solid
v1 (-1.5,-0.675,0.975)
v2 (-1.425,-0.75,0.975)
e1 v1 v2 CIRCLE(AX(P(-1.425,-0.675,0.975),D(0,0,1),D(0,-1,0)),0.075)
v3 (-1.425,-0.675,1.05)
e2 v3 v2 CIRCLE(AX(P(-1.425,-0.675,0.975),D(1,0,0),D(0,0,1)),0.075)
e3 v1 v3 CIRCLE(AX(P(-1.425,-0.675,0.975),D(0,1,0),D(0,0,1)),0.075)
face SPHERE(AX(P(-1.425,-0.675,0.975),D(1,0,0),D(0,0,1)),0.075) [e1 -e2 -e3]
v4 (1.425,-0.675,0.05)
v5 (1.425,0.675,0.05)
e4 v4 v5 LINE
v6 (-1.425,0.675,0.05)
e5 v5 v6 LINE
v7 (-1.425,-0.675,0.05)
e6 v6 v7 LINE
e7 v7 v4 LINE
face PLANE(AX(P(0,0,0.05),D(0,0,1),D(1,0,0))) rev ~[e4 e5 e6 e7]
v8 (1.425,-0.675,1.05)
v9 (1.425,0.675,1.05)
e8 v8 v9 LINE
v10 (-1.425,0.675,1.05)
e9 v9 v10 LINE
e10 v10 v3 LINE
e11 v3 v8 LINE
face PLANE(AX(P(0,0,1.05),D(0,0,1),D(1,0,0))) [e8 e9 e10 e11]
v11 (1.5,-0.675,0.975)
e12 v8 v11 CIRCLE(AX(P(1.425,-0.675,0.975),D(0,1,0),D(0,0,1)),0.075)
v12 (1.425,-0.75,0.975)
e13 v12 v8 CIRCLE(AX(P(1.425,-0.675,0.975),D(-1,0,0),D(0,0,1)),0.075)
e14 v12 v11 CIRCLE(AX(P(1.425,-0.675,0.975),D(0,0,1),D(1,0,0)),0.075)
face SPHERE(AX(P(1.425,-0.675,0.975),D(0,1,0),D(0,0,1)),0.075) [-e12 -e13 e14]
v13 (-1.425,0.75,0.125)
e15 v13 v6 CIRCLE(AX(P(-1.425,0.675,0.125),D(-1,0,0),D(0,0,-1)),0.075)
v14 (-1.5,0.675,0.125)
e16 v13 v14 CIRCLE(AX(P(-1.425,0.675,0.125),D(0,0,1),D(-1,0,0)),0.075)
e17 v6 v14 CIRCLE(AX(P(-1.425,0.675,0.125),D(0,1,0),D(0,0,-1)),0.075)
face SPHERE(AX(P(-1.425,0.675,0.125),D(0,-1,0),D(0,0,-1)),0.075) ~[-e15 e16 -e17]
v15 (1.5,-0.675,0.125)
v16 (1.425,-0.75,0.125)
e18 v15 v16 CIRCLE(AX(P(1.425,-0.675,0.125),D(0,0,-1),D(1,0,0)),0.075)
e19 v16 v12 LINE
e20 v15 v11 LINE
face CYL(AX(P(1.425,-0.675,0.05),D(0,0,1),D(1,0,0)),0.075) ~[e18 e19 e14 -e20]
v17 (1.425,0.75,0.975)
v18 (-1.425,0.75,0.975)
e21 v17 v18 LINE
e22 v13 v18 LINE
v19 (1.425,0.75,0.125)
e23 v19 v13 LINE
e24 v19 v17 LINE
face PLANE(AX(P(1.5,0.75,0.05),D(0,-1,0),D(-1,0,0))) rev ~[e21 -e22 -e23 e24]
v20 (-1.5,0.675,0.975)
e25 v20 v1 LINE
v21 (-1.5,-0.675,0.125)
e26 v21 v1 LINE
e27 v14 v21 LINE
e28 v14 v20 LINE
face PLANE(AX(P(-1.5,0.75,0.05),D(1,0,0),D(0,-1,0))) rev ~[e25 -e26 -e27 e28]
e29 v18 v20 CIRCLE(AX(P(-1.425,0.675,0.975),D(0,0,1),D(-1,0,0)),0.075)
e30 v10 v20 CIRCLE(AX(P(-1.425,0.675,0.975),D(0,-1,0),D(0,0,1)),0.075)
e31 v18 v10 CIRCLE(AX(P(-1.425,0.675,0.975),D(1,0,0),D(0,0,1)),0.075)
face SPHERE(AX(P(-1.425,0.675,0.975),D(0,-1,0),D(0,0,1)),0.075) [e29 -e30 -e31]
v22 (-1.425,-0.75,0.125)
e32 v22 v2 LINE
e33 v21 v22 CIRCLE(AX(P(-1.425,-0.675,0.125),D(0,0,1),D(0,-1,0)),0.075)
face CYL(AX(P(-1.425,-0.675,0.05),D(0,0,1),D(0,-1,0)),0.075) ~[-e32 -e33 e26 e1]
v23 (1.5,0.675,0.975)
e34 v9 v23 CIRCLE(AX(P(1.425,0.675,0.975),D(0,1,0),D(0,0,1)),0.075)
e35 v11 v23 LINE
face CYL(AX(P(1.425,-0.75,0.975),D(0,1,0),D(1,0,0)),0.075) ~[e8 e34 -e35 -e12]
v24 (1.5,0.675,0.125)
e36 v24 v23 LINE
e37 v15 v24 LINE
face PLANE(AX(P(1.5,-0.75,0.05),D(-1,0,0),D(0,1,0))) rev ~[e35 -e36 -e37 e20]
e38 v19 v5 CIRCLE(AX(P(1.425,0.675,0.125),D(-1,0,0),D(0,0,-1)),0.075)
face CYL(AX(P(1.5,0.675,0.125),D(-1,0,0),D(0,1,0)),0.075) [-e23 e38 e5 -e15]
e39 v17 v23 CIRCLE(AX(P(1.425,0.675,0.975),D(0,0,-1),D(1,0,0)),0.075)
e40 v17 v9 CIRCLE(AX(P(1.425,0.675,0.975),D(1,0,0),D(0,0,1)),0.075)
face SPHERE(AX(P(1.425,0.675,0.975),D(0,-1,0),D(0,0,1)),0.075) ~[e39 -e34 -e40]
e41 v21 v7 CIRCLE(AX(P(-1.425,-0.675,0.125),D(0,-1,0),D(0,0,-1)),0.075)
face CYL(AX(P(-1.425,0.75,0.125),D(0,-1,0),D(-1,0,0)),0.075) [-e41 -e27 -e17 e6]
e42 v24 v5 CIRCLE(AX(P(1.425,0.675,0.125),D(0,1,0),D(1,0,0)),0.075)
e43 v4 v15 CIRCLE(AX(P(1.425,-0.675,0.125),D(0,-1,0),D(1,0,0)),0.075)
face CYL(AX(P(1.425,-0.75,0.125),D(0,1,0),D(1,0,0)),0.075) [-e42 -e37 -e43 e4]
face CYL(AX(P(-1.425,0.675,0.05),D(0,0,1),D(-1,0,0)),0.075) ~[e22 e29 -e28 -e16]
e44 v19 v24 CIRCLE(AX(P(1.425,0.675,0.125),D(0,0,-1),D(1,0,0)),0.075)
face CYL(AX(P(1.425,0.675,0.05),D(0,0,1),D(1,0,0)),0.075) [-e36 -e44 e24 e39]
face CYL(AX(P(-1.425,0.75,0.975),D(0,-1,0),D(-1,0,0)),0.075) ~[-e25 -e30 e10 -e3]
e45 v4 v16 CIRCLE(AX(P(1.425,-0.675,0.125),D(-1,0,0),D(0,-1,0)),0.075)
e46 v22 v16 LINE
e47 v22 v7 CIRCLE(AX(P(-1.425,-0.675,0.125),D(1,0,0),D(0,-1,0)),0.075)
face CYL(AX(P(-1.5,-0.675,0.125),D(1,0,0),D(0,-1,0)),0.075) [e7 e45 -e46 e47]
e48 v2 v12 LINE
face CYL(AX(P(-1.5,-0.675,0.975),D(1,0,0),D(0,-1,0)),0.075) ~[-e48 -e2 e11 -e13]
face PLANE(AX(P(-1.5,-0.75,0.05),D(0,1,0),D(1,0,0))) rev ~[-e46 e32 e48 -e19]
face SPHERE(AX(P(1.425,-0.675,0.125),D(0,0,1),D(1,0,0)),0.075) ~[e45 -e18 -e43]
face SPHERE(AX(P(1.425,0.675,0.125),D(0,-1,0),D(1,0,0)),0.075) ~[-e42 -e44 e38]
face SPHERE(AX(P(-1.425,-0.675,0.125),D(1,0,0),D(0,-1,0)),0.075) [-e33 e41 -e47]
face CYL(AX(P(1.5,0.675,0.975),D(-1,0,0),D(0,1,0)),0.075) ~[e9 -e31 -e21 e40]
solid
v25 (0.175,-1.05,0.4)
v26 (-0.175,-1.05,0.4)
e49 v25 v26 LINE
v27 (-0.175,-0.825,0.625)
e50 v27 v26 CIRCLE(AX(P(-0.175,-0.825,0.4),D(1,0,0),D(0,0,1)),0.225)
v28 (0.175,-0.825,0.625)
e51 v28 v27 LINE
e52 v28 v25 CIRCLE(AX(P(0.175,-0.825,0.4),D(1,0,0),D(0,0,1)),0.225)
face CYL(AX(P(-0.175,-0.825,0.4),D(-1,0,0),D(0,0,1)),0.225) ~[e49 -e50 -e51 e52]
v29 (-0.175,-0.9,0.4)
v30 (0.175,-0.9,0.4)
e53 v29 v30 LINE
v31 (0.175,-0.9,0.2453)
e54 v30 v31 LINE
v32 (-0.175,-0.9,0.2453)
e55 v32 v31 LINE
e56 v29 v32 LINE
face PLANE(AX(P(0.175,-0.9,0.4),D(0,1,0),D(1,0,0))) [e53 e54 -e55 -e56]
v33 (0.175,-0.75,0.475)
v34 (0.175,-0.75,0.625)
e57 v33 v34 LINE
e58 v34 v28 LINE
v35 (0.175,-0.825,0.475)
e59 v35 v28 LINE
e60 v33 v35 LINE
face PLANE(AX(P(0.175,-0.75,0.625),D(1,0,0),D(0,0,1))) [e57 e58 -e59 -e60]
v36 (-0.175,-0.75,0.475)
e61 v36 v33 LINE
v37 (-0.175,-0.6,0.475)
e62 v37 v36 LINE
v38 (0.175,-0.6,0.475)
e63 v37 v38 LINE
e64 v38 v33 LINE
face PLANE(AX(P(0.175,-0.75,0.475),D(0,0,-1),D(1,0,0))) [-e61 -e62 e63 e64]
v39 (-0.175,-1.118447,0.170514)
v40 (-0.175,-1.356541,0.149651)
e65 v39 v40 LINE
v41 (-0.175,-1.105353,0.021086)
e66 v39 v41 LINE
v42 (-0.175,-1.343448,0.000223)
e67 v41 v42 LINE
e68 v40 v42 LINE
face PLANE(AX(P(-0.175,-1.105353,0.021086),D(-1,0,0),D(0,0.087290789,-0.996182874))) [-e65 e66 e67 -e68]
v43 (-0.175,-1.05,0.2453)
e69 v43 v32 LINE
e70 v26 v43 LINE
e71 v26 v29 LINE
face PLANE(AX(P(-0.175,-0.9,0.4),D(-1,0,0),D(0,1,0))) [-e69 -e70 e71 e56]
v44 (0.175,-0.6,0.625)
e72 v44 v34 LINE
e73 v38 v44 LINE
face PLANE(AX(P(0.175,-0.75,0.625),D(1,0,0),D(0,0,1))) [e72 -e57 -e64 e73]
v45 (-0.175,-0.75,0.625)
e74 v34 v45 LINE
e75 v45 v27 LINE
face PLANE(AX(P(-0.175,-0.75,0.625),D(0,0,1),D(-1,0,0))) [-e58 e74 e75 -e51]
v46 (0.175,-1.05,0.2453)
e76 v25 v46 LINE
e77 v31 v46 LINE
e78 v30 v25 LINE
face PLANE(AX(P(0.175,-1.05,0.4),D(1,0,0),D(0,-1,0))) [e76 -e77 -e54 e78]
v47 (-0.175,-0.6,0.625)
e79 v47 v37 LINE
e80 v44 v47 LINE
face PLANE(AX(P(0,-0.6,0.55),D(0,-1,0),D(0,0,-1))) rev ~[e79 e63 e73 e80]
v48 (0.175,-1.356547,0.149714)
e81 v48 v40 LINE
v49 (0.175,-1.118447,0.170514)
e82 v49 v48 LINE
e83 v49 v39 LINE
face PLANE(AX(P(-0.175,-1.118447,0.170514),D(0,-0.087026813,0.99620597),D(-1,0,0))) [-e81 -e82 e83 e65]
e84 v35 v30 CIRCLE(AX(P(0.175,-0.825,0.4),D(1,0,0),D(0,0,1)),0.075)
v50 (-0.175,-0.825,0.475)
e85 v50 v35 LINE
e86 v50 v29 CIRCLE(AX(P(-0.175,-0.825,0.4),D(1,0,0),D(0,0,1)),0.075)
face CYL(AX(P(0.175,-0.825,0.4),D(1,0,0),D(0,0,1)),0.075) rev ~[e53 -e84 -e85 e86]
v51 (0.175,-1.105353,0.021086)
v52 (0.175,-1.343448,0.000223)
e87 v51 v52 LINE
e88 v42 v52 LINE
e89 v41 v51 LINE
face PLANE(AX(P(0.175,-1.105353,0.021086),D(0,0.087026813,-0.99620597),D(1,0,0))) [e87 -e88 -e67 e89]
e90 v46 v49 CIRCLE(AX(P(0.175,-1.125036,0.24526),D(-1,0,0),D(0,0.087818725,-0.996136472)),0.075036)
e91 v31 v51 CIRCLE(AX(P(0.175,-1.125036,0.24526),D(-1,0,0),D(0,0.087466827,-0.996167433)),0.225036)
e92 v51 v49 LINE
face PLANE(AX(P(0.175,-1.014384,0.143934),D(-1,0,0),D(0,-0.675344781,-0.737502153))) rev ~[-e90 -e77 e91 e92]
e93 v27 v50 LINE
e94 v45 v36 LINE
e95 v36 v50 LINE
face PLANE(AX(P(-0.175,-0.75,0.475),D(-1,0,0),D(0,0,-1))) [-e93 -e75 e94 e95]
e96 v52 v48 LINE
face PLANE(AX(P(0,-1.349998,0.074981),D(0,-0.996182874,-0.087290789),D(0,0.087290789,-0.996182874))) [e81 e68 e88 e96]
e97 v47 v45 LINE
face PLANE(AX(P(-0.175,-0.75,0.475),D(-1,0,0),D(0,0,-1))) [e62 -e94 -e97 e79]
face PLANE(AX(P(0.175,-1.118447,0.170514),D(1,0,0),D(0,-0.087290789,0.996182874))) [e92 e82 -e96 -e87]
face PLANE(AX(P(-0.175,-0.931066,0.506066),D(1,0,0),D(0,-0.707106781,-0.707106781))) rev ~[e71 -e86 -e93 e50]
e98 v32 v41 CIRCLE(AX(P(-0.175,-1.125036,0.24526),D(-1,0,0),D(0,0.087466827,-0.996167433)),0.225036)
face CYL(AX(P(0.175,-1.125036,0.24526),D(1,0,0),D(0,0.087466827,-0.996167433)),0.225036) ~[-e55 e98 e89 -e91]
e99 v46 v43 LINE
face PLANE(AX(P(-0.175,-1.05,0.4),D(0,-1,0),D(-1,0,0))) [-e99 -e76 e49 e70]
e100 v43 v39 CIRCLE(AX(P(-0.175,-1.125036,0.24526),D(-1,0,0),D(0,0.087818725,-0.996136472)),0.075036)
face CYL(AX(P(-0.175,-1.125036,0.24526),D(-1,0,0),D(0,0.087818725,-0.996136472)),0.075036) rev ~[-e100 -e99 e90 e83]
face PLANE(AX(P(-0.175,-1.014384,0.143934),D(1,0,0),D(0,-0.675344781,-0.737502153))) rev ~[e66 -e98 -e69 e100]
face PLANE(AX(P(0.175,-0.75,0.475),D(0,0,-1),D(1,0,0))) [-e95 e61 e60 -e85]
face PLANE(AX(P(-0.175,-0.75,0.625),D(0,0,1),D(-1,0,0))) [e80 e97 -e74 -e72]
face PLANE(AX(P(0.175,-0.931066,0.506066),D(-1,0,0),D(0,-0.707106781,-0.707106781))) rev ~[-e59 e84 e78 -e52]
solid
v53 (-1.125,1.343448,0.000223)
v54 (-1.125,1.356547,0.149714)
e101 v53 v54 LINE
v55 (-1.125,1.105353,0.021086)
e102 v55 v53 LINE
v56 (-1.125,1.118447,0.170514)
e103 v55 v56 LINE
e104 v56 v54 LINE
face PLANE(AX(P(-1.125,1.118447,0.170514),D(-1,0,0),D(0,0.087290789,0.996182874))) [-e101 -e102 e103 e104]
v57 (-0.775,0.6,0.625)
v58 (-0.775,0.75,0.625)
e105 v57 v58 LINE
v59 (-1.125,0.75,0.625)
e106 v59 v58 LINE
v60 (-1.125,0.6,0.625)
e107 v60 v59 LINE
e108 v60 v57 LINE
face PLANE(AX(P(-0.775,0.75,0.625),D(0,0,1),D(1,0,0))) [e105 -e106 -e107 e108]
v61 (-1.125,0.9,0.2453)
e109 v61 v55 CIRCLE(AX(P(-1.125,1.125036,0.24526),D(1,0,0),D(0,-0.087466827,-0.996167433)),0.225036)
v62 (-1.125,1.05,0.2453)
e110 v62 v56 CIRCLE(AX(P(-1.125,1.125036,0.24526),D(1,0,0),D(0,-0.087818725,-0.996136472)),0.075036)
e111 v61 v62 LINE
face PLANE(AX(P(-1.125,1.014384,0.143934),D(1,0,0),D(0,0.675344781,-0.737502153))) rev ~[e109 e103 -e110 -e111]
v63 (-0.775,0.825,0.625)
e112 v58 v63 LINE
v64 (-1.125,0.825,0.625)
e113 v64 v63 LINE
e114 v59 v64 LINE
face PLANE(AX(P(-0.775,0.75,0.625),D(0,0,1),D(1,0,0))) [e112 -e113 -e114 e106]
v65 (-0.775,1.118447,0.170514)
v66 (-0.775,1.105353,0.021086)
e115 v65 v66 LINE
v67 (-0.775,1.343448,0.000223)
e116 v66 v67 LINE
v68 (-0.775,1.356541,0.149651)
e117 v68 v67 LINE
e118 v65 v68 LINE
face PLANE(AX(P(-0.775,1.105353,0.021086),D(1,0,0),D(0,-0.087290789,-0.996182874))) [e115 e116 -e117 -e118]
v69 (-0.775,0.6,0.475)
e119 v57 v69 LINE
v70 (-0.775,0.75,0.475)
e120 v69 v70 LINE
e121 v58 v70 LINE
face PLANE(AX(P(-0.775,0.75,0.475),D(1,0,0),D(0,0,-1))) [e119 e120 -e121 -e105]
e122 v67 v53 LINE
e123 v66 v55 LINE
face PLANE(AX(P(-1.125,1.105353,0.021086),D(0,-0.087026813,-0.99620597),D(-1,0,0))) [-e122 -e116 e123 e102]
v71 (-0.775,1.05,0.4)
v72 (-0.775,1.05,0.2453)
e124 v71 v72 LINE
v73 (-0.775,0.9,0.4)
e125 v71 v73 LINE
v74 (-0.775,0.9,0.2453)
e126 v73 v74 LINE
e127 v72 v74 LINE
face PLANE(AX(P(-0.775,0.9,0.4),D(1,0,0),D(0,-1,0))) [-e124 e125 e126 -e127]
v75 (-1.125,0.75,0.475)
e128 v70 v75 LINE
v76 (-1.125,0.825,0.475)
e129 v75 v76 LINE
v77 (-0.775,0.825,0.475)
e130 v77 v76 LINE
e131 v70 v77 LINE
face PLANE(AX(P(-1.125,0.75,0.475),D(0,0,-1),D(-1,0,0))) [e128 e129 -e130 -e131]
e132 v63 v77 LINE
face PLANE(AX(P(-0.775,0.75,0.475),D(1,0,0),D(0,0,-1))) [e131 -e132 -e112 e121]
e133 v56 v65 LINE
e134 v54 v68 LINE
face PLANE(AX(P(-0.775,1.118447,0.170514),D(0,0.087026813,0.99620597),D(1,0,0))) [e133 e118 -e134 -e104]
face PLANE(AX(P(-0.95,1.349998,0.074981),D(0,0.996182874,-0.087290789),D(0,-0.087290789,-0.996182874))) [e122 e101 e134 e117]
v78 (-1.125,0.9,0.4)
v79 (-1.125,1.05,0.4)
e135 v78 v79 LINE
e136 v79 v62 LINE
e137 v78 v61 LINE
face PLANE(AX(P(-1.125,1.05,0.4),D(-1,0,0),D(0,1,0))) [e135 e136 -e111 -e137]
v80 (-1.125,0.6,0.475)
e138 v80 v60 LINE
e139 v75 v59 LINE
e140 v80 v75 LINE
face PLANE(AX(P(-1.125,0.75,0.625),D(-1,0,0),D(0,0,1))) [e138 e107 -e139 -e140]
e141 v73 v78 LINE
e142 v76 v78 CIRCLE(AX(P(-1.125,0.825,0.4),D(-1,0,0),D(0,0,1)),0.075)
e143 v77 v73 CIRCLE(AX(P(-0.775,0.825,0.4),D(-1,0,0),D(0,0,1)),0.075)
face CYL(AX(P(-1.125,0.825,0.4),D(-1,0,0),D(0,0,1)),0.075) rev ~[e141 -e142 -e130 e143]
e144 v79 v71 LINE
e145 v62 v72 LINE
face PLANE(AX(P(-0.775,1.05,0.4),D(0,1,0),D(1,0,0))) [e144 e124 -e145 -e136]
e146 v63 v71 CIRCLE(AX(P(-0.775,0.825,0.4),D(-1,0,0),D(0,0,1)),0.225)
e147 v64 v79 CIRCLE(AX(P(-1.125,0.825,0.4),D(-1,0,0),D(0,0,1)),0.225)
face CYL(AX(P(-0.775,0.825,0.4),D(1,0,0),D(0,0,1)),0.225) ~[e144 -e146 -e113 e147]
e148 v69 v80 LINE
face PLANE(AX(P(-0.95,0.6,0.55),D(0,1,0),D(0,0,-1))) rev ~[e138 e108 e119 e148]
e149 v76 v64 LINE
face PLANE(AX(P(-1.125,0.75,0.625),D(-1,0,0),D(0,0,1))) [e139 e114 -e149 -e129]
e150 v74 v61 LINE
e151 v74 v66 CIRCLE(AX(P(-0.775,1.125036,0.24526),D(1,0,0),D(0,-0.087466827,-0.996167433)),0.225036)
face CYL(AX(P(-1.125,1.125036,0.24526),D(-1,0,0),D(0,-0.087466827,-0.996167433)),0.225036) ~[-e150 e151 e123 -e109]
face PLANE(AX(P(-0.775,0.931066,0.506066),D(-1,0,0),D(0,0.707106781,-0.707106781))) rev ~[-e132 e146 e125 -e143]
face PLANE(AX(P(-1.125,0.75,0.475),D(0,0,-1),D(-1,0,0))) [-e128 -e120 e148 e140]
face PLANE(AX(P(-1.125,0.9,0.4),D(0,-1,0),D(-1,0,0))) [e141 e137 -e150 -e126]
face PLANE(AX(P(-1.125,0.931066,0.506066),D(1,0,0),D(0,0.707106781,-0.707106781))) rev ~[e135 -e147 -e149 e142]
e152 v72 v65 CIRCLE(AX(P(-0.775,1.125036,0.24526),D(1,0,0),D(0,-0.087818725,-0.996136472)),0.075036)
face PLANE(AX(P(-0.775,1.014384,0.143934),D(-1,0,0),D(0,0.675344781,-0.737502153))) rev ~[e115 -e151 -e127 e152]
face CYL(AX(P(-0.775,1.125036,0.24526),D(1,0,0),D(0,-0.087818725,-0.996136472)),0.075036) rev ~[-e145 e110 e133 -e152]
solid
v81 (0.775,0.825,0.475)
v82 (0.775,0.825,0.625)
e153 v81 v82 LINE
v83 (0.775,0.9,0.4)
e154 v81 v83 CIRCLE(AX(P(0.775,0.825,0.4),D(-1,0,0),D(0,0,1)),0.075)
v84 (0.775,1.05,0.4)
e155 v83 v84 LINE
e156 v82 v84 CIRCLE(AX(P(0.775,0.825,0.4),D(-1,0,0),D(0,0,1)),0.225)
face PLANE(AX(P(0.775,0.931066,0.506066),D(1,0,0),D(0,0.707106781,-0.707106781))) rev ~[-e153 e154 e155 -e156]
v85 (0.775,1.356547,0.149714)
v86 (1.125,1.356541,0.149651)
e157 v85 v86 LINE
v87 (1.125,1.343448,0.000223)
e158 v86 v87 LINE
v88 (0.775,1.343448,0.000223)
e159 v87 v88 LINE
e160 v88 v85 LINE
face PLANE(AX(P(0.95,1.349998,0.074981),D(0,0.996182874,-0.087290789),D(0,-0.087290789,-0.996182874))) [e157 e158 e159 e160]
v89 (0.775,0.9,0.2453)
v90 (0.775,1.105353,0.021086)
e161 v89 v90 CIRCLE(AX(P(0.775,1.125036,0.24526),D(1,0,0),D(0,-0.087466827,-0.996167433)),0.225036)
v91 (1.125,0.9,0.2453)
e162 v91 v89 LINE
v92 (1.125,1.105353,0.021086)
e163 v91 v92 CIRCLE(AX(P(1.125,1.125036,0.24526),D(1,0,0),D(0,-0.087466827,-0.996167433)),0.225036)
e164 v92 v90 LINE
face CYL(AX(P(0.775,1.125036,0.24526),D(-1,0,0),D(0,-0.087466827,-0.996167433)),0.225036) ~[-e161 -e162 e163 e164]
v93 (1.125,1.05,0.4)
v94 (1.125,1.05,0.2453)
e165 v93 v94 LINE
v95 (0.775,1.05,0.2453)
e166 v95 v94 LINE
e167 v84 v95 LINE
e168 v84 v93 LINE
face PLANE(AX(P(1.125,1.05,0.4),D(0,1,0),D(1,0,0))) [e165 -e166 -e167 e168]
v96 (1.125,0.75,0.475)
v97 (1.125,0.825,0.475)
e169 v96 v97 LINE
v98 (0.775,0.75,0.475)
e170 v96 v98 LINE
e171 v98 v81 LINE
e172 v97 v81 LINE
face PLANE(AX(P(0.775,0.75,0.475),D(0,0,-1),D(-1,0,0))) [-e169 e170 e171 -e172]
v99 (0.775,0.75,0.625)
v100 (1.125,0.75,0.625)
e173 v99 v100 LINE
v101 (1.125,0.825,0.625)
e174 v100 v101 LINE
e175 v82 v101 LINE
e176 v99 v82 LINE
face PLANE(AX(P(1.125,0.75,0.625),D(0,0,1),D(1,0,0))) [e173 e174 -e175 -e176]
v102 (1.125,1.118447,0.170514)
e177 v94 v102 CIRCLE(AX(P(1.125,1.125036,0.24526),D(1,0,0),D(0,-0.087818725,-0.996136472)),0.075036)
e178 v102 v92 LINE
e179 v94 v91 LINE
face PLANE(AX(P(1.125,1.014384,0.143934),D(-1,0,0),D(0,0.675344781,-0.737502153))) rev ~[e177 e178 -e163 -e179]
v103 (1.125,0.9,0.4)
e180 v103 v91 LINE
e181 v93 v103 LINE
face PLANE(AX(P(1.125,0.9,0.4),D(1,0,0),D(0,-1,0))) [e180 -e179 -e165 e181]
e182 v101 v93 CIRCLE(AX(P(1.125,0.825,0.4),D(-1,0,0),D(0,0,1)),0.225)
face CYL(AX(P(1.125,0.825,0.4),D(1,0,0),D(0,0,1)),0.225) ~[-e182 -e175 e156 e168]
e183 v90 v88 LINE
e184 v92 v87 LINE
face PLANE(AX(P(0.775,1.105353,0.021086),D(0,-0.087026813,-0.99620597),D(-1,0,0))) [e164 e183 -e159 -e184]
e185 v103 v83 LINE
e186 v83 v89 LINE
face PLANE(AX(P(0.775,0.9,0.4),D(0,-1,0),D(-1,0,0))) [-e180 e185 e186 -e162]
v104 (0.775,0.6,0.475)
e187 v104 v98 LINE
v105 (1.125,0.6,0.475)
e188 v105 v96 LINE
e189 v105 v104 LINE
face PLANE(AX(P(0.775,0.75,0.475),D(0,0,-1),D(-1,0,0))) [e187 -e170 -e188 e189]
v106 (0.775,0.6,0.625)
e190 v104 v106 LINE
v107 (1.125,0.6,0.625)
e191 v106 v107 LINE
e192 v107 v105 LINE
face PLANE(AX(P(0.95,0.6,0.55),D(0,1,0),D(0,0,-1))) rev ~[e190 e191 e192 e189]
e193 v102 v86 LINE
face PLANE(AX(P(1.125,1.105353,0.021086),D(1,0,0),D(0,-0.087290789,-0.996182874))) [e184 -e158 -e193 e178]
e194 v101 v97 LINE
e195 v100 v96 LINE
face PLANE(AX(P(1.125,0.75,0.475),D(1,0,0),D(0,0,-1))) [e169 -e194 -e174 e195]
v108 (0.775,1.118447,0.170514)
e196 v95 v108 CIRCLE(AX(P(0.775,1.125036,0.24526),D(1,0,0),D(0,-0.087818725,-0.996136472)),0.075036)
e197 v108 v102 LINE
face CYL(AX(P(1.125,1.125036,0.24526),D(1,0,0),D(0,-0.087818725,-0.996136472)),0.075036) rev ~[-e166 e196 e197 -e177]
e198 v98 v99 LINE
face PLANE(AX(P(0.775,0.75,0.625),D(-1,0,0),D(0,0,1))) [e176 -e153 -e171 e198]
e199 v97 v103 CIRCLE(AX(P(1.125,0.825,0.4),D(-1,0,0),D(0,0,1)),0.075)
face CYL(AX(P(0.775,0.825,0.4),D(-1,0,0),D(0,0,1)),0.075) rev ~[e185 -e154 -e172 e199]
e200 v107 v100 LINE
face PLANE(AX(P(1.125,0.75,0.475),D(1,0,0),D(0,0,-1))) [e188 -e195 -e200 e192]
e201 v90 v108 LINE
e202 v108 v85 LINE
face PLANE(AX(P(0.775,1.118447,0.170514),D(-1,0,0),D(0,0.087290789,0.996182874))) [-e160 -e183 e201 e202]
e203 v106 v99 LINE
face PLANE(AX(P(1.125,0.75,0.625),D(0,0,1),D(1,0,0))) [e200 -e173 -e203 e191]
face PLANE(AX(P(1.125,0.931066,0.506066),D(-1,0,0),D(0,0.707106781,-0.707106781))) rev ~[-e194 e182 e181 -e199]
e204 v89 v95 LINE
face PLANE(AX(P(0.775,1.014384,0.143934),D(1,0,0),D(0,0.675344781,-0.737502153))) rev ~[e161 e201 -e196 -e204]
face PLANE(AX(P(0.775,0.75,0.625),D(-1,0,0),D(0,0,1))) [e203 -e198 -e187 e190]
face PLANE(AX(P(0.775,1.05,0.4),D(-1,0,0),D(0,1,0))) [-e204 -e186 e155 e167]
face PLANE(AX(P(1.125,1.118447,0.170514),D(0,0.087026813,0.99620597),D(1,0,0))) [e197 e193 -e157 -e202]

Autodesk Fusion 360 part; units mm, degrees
ref_plane "WorkPlane1" through (0, 0, 0.05) normal (0, 0, 1) x (1, 0, 0)
sketch "Sketch1" plane through (0, 0, 0.05) normal (0, 0, 1) x (1, 0, 0)
  line L0 (1.5, 0.75) -> (-1.5, 0.75)
  line L1 (-1.5, 0.75) -> (-1.5, -0.75)
  line L2 (-1.5, -0.75) -> (1.5, -0.75)
  line L3 (1.5, -0.75) -> (1.5, 0.75)
  line L4 (1.5, 0.75) -> (-1.5, -0.75) construction
  line L5 (-1.5, 0.75) -> (1.5, -0.75) construction
  dimension "d2" = 3
  dimension "d3" = 1.5
extrude "Extrude1" add sketch "Sketch1" along normal blind 1 makes body 1
sketch "Sketch2" plane through (0, -0.75, 0) normal (0, -1, 0) x (1, 0, 0)
  line L0 (-1.5, 0.05) -> (1.5, 0.05)
  line L1 (1.5, 0.05) -> (1.5, 1.05)
  line L2 (1.5, 1.05) -> (-1.5, 1.05)
  line L3 (-1.5, 1.05) -> (-1.5, 0.05)
  line L4 (0.175, 0.475) -> (-0.175, 0.475)
  line L5 (-0.175, 0.475) -> (-0.175, 0.625)
  line L6 (-0.175, 0.625) -> (0.175, 0.625)
  line L7 (0.175, 0.625) -> (0.175, 0.475)
  line L8 (0.175, 0.475) -> (-0.175, 0.625) construction
  line L9 (-0.175, 0.475) -> (0.175, 0.625) construction
  point P0 (0, 0.55)
  dimension "d6" = 0.35
  dimension "d7" = 0.15
  dimension "d8" = 0.5
sketch "Sketch3" plane through (0, 0, 0) normal (1, 0, 0) x (0, 1, 0)
  line L0 (-0.75, 0.55) -> (-0.825, 0.55)
  arc A0 (-0.825, 0.55) -> (-0.975, 0.4) centre (-0.825, 0.4) ccw
  line L1 (-0.975, 0.4) -> (-0.975, 0.2453)
  arc A1 (-1.1119, 0.0958) -> (-0.975, 0.2453) centre (-1.125, 0.2453) ccw
  line L2 (-1.1119, 0.0958) -> (-1.35, 0.075)
  line L3 (-0.75, 0.625) -> (-0.75, 0.475)
  line L4 (-0.75, 0.55) -> (-0.6, 0.55)
  line L5 (-1.35, 0.075) -> (-0.85, 0.075) construction
  point P0 (-0.75, 0.55)
  dimension "d10" = 0.15
  dimension "d11" = 0.075
  dimension "d21" = 0.15
  dimension "d22" = 0.225
  dimension "d23" = 0.6
  dimension "d24" = 0.5
  dimension "d25" = 5
  dimension "d26" = 0.15
sweep "Sweep1" add profiles "Sketch2" path "Sketch3" along L2 A1 L1 A0 L0 L4 section 1 contours L4 L5 L6 L7 separate body makes body 2
pattern_linear "R-Pattern1" count 3 spacing 0.95 along (1, 0, 0) both ways of "Sweep1" makes body 3 makes body 4
fillet "Fillet1" radius 0.075 12 edges at (1.5, 0, 1.05) (0, -0.75, 1.05) (-1.5, 0, 1.05) (0, 0.75, 1.05) (1.5, -0.75, 0.55) (1.5, 0, 0.05) (1.5, 0.75, 0.55) (0, -0.75, 0.05) (-1.5, -0.75, 0.55) (-1.5, 0, 0.05) (0, 0.75, 0.05) (-1.5, 0.75, 0.55) on bodies 1
move_body "Move1" bodies 3 4 to x (-1, 0, 0) y (0, -1, 0) z (0, 0, 1) at (0, 0, 0)
equation "d1 = sop3_above_board"
equation "d2 = sop3_package_width"
equation "d3 = sop3_package_depth"
equation "d4 = sop3_package_height"
equation "d6 = sop3_lead_width"
equation "d7 = sop3_lead_thickness"
equation "d8 = sop3_lead_attach"
equation "d10 = sop3_lead_thickness"
equation "d11 = sop3_lead_thickness / 2"
equation "sop3_lead_thickness = 0.15 mm"
equation "sop3_lead_attach = 0.5 mm"
equation "sop3_lead_width = 0.35 mm"
equation "sop3_lead_spacing = 0.95 mm"
equation "sop3_package_width = 3 mm"
equation "sop3_package_height = 1 mm"
equation "sop3_package_depth = 1.5 mm"
equation "sop3_above_board = 0.05 mm"
equation "d21 = sop3_lead_into_package"
equation "d22 = sop3_lead_thickness * ( 3 / 2 )"
equation "d23 = sop3_lead_extension"
equation "d25 = sop3_lead_foot_angle"
equation "d26 = d10"
equation "sop3_lead_extension = 0.6 mm"
equation "sop3_lead_foot_angle = 5 deg"
equation "sop3_lead_into_package = 0.15 mm"
equation "d34 = sop3_lead_spacing"
equation "sop3_optional_lead_extension = 0 mm"
